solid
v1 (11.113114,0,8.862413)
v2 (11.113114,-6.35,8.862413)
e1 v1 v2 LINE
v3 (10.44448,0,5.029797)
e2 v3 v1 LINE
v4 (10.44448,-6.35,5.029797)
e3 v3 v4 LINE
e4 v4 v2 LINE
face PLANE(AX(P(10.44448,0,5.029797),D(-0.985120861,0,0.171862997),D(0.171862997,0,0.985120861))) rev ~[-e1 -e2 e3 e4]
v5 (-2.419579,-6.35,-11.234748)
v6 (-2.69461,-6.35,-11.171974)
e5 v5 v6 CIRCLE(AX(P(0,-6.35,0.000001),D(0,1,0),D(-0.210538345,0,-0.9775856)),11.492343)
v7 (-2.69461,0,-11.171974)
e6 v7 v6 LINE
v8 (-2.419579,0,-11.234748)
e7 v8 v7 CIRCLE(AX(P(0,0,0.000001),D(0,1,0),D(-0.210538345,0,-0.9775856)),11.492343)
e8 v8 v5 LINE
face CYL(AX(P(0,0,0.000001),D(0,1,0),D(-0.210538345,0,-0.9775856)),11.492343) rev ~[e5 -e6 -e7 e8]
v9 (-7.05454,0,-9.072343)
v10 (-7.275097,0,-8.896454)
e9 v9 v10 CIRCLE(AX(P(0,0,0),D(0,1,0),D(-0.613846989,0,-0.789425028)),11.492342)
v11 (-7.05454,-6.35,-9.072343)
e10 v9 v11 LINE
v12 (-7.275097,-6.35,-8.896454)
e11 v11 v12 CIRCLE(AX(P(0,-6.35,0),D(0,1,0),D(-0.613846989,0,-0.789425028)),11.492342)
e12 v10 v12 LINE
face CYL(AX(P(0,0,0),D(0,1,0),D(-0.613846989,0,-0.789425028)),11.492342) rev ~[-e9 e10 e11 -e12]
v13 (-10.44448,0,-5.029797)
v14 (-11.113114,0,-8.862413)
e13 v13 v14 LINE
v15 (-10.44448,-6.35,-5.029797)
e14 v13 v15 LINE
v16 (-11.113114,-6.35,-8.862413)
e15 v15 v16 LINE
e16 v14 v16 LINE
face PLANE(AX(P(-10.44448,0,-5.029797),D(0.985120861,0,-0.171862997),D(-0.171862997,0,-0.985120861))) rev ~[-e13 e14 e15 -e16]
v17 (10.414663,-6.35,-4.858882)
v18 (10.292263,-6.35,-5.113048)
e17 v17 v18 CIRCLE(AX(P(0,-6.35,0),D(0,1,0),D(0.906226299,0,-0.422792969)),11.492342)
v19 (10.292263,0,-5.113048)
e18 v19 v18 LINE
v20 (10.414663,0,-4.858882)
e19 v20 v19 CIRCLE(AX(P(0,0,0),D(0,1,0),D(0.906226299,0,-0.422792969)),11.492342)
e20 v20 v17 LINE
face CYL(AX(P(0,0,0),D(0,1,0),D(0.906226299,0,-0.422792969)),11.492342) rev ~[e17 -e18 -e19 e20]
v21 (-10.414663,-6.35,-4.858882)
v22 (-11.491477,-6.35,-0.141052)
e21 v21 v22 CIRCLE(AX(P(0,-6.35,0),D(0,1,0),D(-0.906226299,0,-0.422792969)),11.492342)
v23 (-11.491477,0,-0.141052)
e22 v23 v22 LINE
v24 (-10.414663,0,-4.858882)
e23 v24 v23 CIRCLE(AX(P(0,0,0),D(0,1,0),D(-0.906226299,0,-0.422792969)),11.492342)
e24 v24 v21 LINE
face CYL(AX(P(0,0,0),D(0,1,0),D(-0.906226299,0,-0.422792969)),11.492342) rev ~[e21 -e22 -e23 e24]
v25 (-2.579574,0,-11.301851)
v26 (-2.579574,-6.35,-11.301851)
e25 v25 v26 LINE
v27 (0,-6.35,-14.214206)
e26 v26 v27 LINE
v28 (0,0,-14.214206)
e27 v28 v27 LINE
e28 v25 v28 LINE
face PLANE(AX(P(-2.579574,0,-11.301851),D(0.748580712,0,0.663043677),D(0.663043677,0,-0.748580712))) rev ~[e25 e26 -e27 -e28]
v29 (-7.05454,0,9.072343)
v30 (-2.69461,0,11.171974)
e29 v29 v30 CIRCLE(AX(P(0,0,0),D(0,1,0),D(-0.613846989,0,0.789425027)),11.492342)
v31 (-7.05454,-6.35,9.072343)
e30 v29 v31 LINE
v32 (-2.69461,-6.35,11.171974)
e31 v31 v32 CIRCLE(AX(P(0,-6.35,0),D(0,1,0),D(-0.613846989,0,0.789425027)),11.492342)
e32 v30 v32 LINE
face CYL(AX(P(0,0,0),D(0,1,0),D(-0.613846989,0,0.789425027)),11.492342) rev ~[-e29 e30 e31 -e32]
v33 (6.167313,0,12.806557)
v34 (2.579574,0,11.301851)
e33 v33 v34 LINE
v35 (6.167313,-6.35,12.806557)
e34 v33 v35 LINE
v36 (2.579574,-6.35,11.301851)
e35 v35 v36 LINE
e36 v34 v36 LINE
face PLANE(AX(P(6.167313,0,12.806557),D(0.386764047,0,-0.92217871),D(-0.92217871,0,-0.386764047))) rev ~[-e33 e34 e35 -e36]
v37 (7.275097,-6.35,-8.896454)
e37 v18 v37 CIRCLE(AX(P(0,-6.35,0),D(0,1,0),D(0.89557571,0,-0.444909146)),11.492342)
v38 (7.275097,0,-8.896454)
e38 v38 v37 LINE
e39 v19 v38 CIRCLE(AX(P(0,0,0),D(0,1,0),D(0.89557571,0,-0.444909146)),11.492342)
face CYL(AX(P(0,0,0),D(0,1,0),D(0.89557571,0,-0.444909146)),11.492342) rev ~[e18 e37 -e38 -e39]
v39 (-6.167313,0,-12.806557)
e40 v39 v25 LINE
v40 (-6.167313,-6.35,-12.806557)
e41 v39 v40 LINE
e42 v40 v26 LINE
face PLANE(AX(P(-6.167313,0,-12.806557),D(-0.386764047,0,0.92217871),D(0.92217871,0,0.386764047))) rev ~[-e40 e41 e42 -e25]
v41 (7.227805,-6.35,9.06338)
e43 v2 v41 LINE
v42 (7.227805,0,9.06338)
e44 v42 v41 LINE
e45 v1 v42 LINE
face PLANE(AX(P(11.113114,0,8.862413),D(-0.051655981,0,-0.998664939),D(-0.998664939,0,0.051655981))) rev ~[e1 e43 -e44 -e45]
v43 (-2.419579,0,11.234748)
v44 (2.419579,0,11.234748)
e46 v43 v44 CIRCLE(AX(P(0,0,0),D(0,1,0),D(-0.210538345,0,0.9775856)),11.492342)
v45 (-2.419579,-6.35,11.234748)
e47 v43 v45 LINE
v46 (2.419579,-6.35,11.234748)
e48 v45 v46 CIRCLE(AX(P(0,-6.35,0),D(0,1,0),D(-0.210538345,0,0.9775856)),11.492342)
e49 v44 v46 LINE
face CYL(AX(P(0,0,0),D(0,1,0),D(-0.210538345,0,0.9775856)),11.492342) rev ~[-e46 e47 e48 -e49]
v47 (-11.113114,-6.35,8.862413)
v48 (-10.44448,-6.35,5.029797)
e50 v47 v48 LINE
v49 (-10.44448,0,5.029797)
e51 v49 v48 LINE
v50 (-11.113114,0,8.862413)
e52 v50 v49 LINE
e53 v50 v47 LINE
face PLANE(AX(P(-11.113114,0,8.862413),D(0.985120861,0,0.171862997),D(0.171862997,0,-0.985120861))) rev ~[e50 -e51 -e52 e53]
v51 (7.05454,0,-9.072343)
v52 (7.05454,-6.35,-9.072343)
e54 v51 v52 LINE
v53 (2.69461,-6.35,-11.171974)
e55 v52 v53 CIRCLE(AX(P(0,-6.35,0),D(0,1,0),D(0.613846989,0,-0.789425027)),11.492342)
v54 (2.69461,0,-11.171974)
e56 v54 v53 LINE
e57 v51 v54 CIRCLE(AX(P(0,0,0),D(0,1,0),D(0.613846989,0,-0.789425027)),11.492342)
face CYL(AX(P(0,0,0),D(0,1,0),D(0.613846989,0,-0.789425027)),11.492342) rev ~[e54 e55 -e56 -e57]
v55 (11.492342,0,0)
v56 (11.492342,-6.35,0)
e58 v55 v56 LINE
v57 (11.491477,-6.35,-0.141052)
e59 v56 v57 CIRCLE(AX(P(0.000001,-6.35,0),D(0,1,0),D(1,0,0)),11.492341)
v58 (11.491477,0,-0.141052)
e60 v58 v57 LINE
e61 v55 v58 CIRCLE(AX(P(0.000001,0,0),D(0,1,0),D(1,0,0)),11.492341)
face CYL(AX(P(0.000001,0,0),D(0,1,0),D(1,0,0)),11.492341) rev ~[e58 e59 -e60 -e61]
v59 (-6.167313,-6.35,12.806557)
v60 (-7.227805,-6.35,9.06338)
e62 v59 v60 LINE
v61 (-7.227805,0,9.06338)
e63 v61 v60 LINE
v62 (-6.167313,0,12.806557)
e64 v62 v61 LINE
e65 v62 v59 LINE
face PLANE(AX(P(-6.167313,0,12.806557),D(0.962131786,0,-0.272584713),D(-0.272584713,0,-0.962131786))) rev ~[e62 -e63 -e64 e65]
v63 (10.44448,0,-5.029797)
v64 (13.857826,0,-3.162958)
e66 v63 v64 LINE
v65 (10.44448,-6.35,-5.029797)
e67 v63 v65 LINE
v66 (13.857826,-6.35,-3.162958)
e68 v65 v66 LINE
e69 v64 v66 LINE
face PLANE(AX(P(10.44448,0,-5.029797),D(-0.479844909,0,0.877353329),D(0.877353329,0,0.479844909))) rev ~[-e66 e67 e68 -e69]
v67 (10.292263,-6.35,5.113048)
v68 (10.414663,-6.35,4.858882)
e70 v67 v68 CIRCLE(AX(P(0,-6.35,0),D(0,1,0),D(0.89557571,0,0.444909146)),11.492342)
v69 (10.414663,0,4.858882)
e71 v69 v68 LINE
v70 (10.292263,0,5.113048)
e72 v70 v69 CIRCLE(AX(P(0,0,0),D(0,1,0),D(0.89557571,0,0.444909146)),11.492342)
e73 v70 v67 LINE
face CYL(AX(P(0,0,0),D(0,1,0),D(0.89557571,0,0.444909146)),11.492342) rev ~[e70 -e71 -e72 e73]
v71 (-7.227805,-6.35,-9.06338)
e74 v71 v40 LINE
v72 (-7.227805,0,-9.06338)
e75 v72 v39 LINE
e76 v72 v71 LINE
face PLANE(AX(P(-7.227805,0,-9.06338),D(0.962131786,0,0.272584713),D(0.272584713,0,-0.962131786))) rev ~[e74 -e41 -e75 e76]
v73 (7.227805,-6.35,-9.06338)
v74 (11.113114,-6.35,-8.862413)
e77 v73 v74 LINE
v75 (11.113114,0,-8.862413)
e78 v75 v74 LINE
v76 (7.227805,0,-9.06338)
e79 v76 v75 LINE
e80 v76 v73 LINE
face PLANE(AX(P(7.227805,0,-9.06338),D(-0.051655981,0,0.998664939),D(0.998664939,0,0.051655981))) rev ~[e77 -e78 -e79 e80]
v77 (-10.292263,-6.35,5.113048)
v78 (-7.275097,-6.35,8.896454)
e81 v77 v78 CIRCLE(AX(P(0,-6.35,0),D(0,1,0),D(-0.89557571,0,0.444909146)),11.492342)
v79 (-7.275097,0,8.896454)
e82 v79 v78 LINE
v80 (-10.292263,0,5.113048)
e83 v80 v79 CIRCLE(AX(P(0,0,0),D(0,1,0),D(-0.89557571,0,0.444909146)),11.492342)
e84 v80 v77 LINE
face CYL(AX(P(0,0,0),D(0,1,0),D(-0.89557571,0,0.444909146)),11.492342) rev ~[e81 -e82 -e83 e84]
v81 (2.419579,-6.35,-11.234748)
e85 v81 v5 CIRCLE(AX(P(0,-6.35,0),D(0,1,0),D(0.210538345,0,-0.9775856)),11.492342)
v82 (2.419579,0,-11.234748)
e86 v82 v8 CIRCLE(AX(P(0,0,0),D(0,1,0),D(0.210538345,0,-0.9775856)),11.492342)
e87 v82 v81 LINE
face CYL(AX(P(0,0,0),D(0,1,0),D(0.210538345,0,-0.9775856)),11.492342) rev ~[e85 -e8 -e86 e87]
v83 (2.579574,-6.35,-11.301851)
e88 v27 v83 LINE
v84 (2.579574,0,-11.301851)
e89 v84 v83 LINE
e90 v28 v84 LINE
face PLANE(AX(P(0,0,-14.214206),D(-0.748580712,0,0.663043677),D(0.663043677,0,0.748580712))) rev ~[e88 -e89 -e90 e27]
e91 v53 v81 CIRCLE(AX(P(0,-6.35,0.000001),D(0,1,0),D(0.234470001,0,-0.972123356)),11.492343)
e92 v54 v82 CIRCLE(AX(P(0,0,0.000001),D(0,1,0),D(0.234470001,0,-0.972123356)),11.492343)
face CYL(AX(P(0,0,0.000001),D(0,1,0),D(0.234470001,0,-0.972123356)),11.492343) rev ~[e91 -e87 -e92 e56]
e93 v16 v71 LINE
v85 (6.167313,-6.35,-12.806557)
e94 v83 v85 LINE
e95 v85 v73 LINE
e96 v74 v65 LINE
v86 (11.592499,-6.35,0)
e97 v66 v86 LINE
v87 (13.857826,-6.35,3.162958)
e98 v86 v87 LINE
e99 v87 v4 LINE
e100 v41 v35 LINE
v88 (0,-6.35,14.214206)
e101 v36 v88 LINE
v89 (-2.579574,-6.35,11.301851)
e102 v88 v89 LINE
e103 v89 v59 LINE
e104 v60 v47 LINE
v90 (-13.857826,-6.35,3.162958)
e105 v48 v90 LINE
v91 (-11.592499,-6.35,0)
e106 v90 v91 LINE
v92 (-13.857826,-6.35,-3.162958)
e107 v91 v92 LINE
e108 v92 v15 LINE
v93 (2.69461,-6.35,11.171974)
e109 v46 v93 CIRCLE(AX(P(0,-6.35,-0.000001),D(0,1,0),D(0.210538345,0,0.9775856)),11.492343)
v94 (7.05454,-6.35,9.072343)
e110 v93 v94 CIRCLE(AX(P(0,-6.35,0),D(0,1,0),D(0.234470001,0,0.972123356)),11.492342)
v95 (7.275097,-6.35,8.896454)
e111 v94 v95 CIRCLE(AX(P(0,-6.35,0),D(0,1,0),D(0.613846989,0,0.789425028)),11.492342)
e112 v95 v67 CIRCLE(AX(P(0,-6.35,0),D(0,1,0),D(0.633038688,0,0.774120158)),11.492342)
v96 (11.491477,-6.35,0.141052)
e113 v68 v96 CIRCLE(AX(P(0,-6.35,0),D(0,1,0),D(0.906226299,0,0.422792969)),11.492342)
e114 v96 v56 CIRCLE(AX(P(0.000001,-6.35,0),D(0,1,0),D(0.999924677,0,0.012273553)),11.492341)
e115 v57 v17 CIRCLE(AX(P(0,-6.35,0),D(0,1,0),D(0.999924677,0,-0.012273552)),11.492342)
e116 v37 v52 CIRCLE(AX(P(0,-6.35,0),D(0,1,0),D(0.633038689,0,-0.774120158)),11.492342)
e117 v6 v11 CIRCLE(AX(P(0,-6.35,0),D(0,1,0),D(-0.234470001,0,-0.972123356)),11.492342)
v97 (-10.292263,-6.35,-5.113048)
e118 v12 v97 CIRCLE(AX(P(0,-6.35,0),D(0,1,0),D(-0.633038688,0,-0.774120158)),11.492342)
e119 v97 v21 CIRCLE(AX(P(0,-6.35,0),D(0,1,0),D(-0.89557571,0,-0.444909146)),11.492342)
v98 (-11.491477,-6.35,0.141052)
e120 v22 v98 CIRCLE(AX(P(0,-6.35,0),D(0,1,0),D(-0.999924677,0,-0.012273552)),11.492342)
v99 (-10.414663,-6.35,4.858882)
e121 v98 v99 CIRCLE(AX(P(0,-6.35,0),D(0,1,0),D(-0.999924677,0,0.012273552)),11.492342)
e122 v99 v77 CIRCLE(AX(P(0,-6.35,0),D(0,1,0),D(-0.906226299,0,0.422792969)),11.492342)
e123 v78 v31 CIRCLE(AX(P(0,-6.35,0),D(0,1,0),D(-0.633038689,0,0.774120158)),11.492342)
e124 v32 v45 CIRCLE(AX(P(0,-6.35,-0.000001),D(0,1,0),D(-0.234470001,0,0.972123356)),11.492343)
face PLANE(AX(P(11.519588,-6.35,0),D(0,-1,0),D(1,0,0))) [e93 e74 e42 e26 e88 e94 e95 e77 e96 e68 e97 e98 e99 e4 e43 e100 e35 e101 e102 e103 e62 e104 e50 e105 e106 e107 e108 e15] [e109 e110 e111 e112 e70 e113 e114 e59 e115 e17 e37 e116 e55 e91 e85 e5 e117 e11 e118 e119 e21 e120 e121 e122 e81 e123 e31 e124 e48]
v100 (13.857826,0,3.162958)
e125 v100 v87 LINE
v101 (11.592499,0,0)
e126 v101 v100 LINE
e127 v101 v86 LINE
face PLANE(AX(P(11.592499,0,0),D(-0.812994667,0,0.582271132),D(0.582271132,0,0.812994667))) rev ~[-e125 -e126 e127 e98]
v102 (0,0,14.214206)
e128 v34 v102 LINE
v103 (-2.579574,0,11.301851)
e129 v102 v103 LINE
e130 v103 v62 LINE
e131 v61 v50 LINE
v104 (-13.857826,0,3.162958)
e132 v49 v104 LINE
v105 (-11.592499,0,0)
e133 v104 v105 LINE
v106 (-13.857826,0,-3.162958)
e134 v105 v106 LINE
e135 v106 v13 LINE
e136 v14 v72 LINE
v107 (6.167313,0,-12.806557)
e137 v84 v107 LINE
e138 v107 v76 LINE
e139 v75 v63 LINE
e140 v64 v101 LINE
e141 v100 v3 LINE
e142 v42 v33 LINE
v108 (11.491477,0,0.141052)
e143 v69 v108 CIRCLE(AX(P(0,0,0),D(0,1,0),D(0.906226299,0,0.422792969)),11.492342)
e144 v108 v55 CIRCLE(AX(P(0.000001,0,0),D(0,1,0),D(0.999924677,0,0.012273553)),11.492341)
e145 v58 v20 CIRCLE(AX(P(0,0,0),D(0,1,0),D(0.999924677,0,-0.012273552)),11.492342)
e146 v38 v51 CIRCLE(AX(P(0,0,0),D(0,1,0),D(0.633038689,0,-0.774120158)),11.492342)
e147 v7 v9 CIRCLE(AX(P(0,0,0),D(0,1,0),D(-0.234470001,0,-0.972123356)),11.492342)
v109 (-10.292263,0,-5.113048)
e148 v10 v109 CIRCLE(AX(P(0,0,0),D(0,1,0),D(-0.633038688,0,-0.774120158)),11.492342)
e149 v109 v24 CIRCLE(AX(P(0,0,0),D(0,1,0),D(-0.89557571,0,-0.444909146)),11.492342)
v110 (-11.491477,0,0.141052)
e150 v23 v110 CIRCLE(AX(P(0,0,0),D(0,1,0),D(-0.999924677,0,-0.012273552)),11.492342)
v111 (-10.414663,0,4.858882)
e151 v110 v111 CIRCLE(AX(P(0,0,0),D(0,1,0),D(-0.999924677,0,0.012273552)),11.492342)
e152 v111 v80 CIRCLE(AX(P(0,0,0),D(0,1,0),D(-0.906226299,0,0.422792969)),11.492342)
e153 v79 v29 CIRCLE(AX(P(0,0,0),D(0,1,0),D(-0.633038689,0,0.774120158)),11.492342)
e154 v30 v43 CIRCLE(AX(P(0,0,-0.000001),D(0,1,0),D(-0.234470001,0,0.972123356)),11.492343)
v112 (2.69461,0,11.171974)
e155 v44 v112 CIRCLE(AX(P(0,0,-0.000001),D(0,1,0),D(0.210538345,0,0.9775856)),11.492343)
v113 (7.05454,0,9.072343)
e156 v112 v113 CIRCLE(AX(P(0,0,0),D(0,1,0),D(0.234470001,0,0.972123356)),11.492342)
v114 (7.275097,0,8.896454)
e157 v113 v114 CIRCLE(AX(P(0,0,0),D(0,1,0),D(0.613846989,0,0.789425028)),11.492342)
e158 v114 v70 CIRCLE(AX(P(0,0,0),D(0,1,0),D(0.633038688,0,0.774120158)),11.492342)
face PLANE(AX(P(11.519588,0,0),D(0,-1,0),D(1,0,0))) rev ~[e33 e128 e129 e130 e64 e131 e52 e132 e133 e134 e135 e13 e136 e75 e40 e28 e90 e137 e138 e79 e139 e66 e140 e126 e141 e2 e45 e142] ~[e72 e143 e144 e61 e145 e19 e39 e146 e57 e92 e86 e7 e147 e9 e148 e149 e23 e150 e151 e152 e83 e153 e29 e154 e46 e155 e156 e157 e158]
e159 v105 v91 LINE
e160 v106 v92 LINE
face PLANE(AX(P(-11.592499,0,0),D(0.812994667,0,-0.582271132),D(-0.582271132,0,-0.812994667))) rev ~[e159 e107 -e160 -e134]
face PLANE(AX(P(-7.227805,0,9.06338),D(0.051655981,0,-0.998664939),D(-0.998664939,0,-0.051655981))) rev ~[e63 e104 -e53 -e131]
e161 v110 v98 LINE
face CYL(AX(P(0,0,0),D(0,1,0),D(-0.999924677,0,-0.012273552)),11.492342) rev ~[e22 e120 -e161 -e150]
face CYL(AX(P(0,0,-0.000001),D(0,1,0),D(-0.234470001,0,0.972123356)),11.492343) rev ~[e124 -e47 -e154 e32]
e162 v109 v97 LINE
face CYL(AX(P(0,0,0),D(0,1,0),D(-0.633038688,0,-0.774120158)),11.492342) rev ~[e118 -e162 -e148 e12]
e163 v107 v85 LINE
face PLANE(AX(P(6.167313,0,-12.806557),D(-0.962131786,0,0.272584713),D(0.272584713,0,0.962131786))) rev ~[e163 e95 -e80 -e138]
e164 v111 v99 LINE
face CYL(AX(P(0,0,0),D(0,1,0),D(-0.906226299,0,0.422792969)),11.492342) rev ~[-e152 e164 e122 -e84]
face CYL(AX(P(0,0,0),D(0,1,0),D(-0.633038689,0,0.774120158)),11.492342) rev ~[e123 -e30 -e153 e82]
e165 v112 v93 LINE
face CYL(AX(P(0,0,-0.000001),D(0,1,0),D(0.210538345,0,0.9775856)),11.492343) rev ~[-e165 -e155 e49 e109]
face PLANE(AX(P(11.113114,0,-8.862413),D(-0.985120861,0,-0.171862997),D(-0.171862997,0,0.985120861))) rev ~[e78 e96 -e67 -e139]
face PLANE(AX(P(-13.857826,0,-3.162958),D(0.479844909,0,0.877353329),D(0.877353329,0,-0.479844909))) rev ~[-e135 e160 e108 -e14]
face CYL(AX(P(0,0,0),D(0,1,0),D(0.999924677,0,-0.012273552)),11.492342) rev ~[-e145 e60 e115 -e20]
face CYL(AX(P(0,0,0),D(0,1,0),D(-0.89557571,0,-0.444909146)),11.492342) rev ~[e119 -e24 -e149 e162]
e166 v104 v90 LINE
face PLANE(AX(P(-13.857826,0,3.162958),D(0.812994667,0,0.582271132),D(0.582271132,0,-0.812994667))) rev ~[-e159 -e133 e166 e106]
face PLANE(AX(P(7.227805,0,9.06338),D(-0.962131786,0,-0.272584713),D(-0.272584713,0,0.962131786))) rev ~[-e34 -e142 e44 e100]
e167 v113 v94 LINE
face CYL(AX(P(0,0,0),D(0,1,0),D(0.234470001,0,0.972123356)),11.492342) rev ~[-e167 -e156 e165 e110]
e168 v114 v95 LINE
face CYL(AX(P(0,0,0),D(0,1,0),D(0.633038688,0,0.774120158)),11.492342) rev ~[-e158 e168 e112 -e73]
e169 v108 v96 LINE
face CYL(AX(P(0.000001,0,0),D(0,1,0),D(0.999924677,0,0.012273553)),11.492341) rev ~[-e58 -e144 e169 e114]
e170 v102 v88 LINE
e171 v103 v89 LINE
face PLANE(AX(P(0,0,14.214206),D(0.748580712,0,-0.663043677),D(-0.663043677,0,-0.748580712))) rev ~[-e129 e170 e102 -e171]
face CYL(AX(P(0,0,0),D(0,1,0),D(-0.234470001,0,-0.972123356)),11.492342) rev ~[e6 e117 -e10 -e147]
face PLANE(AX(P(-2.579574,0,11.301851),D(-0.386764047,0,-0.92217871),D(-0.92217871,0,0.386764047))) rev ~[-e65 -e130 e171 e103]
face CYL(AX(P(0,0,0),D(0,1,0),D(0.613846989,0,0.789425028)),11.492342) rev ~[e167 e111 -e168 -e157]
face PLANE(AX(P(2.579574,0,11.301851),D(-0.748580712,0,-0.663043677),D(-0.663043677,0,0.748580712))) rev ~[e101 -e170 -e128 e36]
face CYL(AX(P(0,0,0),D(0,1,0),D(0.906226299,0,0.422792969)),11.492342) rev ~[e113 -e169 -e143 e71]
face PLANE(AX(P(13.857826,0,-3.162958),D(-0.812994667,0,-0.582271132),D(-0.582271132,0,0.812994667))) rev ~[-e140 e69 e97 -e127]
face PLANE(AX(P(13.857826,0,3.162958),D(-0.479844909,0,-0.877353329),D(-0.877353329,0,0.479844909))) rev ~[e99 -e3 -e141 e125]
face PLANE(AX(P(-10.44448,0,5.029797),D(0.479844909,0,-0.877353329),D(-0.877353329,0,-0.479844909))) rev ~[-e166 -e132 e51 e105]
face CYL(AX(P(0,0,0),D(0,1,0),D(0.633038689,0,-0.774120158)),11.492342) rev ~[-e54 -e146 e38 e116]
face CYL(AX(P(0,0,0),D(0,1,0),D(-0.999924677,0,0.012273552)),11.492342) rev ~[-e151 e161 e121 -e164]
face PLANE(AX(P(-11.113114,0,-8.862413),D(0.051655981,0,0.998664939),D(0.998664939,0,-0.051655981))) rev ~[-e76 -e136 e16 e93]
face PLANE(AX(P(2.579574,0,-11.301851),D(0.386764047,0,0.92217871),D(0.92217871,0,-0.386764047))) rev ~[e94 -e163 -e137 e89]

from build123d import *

# Parameters (mm, degrees)
F1_DEPTH = 6.35


with BuildPart() as f1:
    # F0 (on Front) → F1 (new body)
    with BuildSketch(Plane.XZ):
        with BuildLine():
            ThreePointArc((11.4914766139, 0.1410518603), (11.4921258391, 0.0705272582), (11.4923422502, 0))
            ThreePointArc((11.4923422502, 0), (11.4921258391, -0.0705272582), (11.4914766139, -0.1410518603))
            Line((11.4914766139, -0.1410518603), (11.5924987112, 0))
            Line((11.5924987112, 0), (11.4914766139, 0.1410518603))
        make_face()
        with BuildLine():
            ThreePointArc((10.4146627839, 4.8588815063), (11.204205236, 2.5572867309), (11.4914766139, 0.1410518603))
            Line((11.4914766139, 0.1410518603), (11.5924987112, 0))
            Line((11.5924987112, 0), (13.8578264949, 3.1629584667))
            Line((13.8578264949, 3.1629584667), (10.44448044, 5.0297966865))
            Line((10.44448044, 5.0297966865), (10.4146627839, 4.8588815063))
        make_face()
        with BuildLine():
            Line((11.5924987112, 0), (11.4914766139, -0.1410518603))
            ThreePointArc((11.4914766139, -0.1410518603), (11.204205236, -2.5572867309), (10.4146627839, -4.8588815063))
            Line((10.4146627839, -4.8588815063), (10.44448044, -5.0297966865))
            Line((10.44448044, -5.0297966865), (13.8578264949, -3.1629584667))
            Line((13.8578264949, -3.1629584667), (11.5924987112, 0))
        make_face()
        with BuildLine():
            ThreePointArc((10.2922625668, 5.1130481761), (10.3542425867, 4.9863404267), (10.4146627839, 4.8588815063))
            Line((10.4146627839, 4.8588815063), (10.44448044, 5.0297966865))
            Line((10.44448044, 5.0297966865), (10.2922625668, 5.1130481761))
        make_face()
        with BuildLine():
            Line((10.44448044, -5.0297966865), (10.4146627839, -4.8588815063))
            ThreePointArc((10.4146627839, -4.8588815063), (10.3542425867, -4.9863404267), (10.2922625668, -5.1130481761))
            Line((10.2922625668, -5.1130481761), (10.44448044, -5.0297966865))
        make_face()
        with BuildLine():
            ThreePointArc((7.2750972621, 8.8964538004), (8.9850749785, 7.1653581925), (10.2922625668, 5.1130481761))
            Line((10.2922625668, 5.1130481761), (10.44448044, 5.0297966865))
            Line((10.44448044, 5.0297966865), (11.1131140025, 8.8624126846))
            Line((11.1131140025, 8.8624126846), (7.2278047245, 9.0633804529))
            Line((7.2278047245, 9.0633804529), (7.2750972621, 8.8964538004))
        make_face()
        with BuildLine():
            Line((10.44448044, -5.0297966865), (10.2922625668, -5.1130481761))
            ThreePointArc((10.2922625668, -5.1130481761), (8.9850749785, -7.1653581925), (7.2750972621, -8.8964538004))
            Line((7.2750972621, -8.8964538004), (7.2278047245, -9.0633804529))
            Line((7.2278047245, -9.0633804529), (11.1131140025, -8.8624126846))
            Line((11.1131140025, -8.8624126846), (10.44448044, -5.0297966865))
        make_face()
        with BuildLine():
            ThreePointArc((7.054539692, 9.0723425932), (7.1653581925, 8.9850749785), (7.2750972621, 8.8964538004))
            Line((7.2750972621, 8.8964538004), (7.2278047245, 9.0633804529))
            Line((7.2278047245, 9.0633804529), (7.054539692, 9.0723425932))
        make_face()
        with BuildLine():
            Line((7.2278047245, -9.0633804529), (7.2750972621, -8.8964538004))
            ThreePointArc((7.2750972621, -8.8964538004), (7.1653581925, -8.9850749785), (7.054539692, -9.0723425932))
            Line((7.054539692, -9.0723425932), (7.2278047245, -9.0633804529))
        make_face()
        with BuildLine():
            ThreePointArc((2.6946095043, 11.1719743114), (4.9863404267, 10.3542425867), (7.054539692, 9.0723425932))
            Line((7.054539692, 9.0723425932), (7.2278047245, 9.0633804529))
            Line((7.2278047245, 9.0633804529), (6.1673129885, 12.80655738))
            Line((6.1673129885, 12.80655738), (2.5795736401, 11.3018505655))
            Line((2.5795736401, 11.3018505655), (2.6946095043, 11.1719743114))
        make_face()
        with BuildLine():
            Line((7.2278047245, -9.0633804529), (7.054539692, -9.0723425932))
            ThreePointArc((7.054539692, -9.0723425932), (4.9863404267, -10.3542425867), (2.6946095043, -11.1719743114))
            Line((2.6946095043, -11.1719743114), (2.5795736401, -11.3018505655))
            Line((2.5795736401, -11.3018505655), (6.1673129885, -12.80655738))
            Line((6.1673129885, -12.80655738), (7.2278047245, -9.0633804529))
        make_face()
        with BuildLine():
            ThreePointArc((2.419578713, 11.2347482948), (2.5572867309, 11.204205236), (2.6946095043, 11.1719743114))
            Line((2.6946095043, 11.1719743114), (2.5795736401, 11.3018505655))
            Line((2.5795736401, 11.3018505655), (2.419578713, 11.2347482948))
        make_face()
        with BuildLine():
            Line((2.5795736401, -11.3018505655), (2.6946095043, -11.1719743114))
            ThreePointArc((2.6946095043, -11.1719743114), (2.5572867309, -11.204205236), (2.419578713, -11.2347482948))
            Line((2.419578713, -11.2347482948), (2.5795736401, -11.3018505655))
        make_face()
        with BuildLine():
            ThreePointArc((-2.419578713, 11.2347482948), (0, 11.4923422502), (2.419578713, 11.2347482948))
            Line((2.419578713, 11.2347482948), (2.5795736401, 11.3018505655))
            Line((2.5795736401, 11.3018505655), (0, 14.2142063241))
            Line((0, 14.2142063241), (-2.5795736401, 11.3018505655))
            Line((-2.5795736401, 11.3018505655), (-2.419578713, 11.2347482948))
        make_face()
        with BuildLine():
            Line((2.5795736401, -11.3018505655), (2.419578713, -11.2347482948))
            ThreePointArc((2.419578713, -11.2347482948), (0, -11.4923422502), (-2.419578713, -11.2347482948))
            Line((-2.419578713, -11.2347482948), (-2.5795736401, -11.3018505655))
            Line((-2.5795736401, -11.3018505655), (0, -14.2142063241))
            Line((0, -14.2142063241), (2.5795736401, -11.3018505655))
        make_face()
        with BuildLine():
            ThreePointArc((-2.6946095043, 11.1719743114), (-2.5572867309, 11.204205236), (-2.419578713, 11.2347482948))
            Line((-2.419578713, 11.2347482948), (-2.5795736401, 11.3018505655))
            Line((-2.5795736401, 11.3018505655), (-2.6946095043, 11.1719743114))
        make_face()
        with BuildLine():
            Line((-2.5795736401, -11.3018505655), (-2.419578713, -11.2347482948))
            ThreePointArc((-2.419578713, -11.2347482948), (-2.5572867309, -11.204205236), (-2.6946095043, -11.1719743114))
            Line((-2.6946095043, -11.1719743114), (-2.5795736401, -11.3018505655))
        make_face()
        with BuildLine():
            ThreePointArc((-7.054539692, 9.0723425932), (-4.9863404267, 10.3542425867), (-2.6946095043, 11.1719743114))
            Line((-2.6946095043, 11.1719743114), (-2.5795736401, 11.3018505655))
            Line((-2.5795736401, 11.3018505655), (-6.1673129885, 12.80655738))
            Line((-6.1673129885, 12.80655738), (-7.2278047245, 9.0633804529))
            Line((-7.2278047245, 9.0633804529), (-7.054539692, 9.0723425932))
        make_face()
        with BuildLine():
            Line((-2.5795736401, -11.3018505655), (-2.6946095043, -11.1719743114))
            ThreePointArc((-2.6946095043, -11.1719743114), (-4.9863404267, -10.3542425867), (-7.054539692, -9.0723425932))
            Line((-7.054539692, -9.0723425932), (-7.2278047245, -9.0633804529))
            Line((-7.2278047245, -9.0633804529), (-6.1673129885, -12.80655738))
            Line((-6.1673129885, -12.80655738), (-2.5795736401, -11.3018505655))
        make_face()
        with BuildLine():
            ThreePointArc((-7.2750972621, 8.8964538004), (-7.1653581925, 8.9850749785), (-7.054539692, 9.0723425932))
            Line((-7.054539692, 9.0723425932), (-7.2278047245, 9.0633804529))
            Line((-7.2278047245, 9.0633804529), (-7.2750972621, 8.8964538004))
        make_face()
        with BuildLine():
            Line((-7.2278047245, -9.0633804529), (-7.054539692, -9.0723425932))
            ThreePointArc((-7.054539692, -9.0723425932), (-7.1653581925, -8.9850749785), (-7.2750972621, -8.8964538004))
            Line((-7.2750972621, -8.8964538004), (-7.2278047245, -9.0633804529))
        make_face()
        with BuildLine():
            ThreePointArc((-10.2922625668, 5.1130481761), (-8.9850749785, 7.1653581925), (-7.2750972621, 8.8964538004))
            Line((-7.2750972621, 8.8964538004), (-7.2278047245, 9.0633804529))
            Line((-7.2278047245, 9.0633804529), (-11.1131140025, 8.8624126846))
            Line((-11.1131140025, 8.8624126846), (-10.44448044, 5.0297966865))
            Line((-10.44448044, 5.0297966865), (-10.2922625668, 5.1130481761))
        make_face()
        with BuildLine():
            Line((-7.2278047245, -9.0633804529), (-7.2750972621, -8.8964538004))
            ThreePointArc((-7.2750972621, -8.8964538004), (-8.9850749785, -7.1653581925), (-10.2922625668, -5.1130481761))
            Line((-10.2922625668, -5.1130481761), (-10.44448044, -5.0297966865))
            Line((-10.44448044, -5.0297966865), (-11.1131140025, -8.8624126846))
            Line((-11.1131140025, -8.8624126846), (-7.2278047245, -9.0633804529))
        make_face()
        with BuildLine():
            ThreePointArc((-10.4146627839, 4.8588815063), (-10.3542425867, 4.9863404267), (-10.2922625668, 5.1130481761))
            Line((-10.2922625668, 5.1130481761), (-10.44448044, 5.0297966865))
            Line((-10.44448044, 5.0297966865), (-10.4146627839, 4.8588815063))
        make_face()
        with BuildLine():
            Line((-10.44448044, -5.0297966865), (-10.2922625668, -5.1130481761))
            ThreePointArc((-10.2922625668, -5.1130481761), (-10.3542425867, -4.9863404267), (-10.4146627839, -4.8588815063))
            Line((-10.4146627839, -4.8588815063), (-10.44448044, -5.0297966865))
        make_face()
        with BuildLine():
            ThreePointArc((-11.4914766139, 0.1410518603), (-11.204205236, 2.5572867309), (-10.4146627839, 4.8588815063))
            Line((-10.4146627839, 4.8588815063), (-10.44448044, 5.0297966865))
            Line((-10.44448044, 5.0297966865), (-13.8578264949, 3.1629584667))
            Line((-13.8578264949, 3.1629584667), (-11.5924987112, 0))
            Line((-11.5924987112, 0), (-11.4914766139, 0.1410518603))
        make_face()
        with BuildLine():
            Line((-10.44448044, -5.0297966865), (-10.4146627839, -4.8588815063))
            ThreePointArc((-10.4146627839, -4.8588815063), (-11.204205236, -2.5572867309), (-11.4914766139, -0.1410518603))
            Line((-11.4914766139, -0.1410518603), (-11.5924987112, 0))
            Line((-11.5924987112, 0), (-13.8578264949, -3.1629584667))
            Line((-13.8578264949, -3.1629584667), (-10.44448044, -5.0297966865))
        make_face()
        with BuildLine():
            ThreePointArc((-11.4914766139, -0.1410518603), (-11.4923422502, 0), (-11.4914766139, 0.1410518603))
            Line((-11.4914766139, 0.1410518603), (-11.5924987112, 0))
            Line((-11.5924987112, 0), (-11.4914766139, -0.1410518603))
        make_face()
    extrude(amount=F1_DEPTH)


solid = f1.part
